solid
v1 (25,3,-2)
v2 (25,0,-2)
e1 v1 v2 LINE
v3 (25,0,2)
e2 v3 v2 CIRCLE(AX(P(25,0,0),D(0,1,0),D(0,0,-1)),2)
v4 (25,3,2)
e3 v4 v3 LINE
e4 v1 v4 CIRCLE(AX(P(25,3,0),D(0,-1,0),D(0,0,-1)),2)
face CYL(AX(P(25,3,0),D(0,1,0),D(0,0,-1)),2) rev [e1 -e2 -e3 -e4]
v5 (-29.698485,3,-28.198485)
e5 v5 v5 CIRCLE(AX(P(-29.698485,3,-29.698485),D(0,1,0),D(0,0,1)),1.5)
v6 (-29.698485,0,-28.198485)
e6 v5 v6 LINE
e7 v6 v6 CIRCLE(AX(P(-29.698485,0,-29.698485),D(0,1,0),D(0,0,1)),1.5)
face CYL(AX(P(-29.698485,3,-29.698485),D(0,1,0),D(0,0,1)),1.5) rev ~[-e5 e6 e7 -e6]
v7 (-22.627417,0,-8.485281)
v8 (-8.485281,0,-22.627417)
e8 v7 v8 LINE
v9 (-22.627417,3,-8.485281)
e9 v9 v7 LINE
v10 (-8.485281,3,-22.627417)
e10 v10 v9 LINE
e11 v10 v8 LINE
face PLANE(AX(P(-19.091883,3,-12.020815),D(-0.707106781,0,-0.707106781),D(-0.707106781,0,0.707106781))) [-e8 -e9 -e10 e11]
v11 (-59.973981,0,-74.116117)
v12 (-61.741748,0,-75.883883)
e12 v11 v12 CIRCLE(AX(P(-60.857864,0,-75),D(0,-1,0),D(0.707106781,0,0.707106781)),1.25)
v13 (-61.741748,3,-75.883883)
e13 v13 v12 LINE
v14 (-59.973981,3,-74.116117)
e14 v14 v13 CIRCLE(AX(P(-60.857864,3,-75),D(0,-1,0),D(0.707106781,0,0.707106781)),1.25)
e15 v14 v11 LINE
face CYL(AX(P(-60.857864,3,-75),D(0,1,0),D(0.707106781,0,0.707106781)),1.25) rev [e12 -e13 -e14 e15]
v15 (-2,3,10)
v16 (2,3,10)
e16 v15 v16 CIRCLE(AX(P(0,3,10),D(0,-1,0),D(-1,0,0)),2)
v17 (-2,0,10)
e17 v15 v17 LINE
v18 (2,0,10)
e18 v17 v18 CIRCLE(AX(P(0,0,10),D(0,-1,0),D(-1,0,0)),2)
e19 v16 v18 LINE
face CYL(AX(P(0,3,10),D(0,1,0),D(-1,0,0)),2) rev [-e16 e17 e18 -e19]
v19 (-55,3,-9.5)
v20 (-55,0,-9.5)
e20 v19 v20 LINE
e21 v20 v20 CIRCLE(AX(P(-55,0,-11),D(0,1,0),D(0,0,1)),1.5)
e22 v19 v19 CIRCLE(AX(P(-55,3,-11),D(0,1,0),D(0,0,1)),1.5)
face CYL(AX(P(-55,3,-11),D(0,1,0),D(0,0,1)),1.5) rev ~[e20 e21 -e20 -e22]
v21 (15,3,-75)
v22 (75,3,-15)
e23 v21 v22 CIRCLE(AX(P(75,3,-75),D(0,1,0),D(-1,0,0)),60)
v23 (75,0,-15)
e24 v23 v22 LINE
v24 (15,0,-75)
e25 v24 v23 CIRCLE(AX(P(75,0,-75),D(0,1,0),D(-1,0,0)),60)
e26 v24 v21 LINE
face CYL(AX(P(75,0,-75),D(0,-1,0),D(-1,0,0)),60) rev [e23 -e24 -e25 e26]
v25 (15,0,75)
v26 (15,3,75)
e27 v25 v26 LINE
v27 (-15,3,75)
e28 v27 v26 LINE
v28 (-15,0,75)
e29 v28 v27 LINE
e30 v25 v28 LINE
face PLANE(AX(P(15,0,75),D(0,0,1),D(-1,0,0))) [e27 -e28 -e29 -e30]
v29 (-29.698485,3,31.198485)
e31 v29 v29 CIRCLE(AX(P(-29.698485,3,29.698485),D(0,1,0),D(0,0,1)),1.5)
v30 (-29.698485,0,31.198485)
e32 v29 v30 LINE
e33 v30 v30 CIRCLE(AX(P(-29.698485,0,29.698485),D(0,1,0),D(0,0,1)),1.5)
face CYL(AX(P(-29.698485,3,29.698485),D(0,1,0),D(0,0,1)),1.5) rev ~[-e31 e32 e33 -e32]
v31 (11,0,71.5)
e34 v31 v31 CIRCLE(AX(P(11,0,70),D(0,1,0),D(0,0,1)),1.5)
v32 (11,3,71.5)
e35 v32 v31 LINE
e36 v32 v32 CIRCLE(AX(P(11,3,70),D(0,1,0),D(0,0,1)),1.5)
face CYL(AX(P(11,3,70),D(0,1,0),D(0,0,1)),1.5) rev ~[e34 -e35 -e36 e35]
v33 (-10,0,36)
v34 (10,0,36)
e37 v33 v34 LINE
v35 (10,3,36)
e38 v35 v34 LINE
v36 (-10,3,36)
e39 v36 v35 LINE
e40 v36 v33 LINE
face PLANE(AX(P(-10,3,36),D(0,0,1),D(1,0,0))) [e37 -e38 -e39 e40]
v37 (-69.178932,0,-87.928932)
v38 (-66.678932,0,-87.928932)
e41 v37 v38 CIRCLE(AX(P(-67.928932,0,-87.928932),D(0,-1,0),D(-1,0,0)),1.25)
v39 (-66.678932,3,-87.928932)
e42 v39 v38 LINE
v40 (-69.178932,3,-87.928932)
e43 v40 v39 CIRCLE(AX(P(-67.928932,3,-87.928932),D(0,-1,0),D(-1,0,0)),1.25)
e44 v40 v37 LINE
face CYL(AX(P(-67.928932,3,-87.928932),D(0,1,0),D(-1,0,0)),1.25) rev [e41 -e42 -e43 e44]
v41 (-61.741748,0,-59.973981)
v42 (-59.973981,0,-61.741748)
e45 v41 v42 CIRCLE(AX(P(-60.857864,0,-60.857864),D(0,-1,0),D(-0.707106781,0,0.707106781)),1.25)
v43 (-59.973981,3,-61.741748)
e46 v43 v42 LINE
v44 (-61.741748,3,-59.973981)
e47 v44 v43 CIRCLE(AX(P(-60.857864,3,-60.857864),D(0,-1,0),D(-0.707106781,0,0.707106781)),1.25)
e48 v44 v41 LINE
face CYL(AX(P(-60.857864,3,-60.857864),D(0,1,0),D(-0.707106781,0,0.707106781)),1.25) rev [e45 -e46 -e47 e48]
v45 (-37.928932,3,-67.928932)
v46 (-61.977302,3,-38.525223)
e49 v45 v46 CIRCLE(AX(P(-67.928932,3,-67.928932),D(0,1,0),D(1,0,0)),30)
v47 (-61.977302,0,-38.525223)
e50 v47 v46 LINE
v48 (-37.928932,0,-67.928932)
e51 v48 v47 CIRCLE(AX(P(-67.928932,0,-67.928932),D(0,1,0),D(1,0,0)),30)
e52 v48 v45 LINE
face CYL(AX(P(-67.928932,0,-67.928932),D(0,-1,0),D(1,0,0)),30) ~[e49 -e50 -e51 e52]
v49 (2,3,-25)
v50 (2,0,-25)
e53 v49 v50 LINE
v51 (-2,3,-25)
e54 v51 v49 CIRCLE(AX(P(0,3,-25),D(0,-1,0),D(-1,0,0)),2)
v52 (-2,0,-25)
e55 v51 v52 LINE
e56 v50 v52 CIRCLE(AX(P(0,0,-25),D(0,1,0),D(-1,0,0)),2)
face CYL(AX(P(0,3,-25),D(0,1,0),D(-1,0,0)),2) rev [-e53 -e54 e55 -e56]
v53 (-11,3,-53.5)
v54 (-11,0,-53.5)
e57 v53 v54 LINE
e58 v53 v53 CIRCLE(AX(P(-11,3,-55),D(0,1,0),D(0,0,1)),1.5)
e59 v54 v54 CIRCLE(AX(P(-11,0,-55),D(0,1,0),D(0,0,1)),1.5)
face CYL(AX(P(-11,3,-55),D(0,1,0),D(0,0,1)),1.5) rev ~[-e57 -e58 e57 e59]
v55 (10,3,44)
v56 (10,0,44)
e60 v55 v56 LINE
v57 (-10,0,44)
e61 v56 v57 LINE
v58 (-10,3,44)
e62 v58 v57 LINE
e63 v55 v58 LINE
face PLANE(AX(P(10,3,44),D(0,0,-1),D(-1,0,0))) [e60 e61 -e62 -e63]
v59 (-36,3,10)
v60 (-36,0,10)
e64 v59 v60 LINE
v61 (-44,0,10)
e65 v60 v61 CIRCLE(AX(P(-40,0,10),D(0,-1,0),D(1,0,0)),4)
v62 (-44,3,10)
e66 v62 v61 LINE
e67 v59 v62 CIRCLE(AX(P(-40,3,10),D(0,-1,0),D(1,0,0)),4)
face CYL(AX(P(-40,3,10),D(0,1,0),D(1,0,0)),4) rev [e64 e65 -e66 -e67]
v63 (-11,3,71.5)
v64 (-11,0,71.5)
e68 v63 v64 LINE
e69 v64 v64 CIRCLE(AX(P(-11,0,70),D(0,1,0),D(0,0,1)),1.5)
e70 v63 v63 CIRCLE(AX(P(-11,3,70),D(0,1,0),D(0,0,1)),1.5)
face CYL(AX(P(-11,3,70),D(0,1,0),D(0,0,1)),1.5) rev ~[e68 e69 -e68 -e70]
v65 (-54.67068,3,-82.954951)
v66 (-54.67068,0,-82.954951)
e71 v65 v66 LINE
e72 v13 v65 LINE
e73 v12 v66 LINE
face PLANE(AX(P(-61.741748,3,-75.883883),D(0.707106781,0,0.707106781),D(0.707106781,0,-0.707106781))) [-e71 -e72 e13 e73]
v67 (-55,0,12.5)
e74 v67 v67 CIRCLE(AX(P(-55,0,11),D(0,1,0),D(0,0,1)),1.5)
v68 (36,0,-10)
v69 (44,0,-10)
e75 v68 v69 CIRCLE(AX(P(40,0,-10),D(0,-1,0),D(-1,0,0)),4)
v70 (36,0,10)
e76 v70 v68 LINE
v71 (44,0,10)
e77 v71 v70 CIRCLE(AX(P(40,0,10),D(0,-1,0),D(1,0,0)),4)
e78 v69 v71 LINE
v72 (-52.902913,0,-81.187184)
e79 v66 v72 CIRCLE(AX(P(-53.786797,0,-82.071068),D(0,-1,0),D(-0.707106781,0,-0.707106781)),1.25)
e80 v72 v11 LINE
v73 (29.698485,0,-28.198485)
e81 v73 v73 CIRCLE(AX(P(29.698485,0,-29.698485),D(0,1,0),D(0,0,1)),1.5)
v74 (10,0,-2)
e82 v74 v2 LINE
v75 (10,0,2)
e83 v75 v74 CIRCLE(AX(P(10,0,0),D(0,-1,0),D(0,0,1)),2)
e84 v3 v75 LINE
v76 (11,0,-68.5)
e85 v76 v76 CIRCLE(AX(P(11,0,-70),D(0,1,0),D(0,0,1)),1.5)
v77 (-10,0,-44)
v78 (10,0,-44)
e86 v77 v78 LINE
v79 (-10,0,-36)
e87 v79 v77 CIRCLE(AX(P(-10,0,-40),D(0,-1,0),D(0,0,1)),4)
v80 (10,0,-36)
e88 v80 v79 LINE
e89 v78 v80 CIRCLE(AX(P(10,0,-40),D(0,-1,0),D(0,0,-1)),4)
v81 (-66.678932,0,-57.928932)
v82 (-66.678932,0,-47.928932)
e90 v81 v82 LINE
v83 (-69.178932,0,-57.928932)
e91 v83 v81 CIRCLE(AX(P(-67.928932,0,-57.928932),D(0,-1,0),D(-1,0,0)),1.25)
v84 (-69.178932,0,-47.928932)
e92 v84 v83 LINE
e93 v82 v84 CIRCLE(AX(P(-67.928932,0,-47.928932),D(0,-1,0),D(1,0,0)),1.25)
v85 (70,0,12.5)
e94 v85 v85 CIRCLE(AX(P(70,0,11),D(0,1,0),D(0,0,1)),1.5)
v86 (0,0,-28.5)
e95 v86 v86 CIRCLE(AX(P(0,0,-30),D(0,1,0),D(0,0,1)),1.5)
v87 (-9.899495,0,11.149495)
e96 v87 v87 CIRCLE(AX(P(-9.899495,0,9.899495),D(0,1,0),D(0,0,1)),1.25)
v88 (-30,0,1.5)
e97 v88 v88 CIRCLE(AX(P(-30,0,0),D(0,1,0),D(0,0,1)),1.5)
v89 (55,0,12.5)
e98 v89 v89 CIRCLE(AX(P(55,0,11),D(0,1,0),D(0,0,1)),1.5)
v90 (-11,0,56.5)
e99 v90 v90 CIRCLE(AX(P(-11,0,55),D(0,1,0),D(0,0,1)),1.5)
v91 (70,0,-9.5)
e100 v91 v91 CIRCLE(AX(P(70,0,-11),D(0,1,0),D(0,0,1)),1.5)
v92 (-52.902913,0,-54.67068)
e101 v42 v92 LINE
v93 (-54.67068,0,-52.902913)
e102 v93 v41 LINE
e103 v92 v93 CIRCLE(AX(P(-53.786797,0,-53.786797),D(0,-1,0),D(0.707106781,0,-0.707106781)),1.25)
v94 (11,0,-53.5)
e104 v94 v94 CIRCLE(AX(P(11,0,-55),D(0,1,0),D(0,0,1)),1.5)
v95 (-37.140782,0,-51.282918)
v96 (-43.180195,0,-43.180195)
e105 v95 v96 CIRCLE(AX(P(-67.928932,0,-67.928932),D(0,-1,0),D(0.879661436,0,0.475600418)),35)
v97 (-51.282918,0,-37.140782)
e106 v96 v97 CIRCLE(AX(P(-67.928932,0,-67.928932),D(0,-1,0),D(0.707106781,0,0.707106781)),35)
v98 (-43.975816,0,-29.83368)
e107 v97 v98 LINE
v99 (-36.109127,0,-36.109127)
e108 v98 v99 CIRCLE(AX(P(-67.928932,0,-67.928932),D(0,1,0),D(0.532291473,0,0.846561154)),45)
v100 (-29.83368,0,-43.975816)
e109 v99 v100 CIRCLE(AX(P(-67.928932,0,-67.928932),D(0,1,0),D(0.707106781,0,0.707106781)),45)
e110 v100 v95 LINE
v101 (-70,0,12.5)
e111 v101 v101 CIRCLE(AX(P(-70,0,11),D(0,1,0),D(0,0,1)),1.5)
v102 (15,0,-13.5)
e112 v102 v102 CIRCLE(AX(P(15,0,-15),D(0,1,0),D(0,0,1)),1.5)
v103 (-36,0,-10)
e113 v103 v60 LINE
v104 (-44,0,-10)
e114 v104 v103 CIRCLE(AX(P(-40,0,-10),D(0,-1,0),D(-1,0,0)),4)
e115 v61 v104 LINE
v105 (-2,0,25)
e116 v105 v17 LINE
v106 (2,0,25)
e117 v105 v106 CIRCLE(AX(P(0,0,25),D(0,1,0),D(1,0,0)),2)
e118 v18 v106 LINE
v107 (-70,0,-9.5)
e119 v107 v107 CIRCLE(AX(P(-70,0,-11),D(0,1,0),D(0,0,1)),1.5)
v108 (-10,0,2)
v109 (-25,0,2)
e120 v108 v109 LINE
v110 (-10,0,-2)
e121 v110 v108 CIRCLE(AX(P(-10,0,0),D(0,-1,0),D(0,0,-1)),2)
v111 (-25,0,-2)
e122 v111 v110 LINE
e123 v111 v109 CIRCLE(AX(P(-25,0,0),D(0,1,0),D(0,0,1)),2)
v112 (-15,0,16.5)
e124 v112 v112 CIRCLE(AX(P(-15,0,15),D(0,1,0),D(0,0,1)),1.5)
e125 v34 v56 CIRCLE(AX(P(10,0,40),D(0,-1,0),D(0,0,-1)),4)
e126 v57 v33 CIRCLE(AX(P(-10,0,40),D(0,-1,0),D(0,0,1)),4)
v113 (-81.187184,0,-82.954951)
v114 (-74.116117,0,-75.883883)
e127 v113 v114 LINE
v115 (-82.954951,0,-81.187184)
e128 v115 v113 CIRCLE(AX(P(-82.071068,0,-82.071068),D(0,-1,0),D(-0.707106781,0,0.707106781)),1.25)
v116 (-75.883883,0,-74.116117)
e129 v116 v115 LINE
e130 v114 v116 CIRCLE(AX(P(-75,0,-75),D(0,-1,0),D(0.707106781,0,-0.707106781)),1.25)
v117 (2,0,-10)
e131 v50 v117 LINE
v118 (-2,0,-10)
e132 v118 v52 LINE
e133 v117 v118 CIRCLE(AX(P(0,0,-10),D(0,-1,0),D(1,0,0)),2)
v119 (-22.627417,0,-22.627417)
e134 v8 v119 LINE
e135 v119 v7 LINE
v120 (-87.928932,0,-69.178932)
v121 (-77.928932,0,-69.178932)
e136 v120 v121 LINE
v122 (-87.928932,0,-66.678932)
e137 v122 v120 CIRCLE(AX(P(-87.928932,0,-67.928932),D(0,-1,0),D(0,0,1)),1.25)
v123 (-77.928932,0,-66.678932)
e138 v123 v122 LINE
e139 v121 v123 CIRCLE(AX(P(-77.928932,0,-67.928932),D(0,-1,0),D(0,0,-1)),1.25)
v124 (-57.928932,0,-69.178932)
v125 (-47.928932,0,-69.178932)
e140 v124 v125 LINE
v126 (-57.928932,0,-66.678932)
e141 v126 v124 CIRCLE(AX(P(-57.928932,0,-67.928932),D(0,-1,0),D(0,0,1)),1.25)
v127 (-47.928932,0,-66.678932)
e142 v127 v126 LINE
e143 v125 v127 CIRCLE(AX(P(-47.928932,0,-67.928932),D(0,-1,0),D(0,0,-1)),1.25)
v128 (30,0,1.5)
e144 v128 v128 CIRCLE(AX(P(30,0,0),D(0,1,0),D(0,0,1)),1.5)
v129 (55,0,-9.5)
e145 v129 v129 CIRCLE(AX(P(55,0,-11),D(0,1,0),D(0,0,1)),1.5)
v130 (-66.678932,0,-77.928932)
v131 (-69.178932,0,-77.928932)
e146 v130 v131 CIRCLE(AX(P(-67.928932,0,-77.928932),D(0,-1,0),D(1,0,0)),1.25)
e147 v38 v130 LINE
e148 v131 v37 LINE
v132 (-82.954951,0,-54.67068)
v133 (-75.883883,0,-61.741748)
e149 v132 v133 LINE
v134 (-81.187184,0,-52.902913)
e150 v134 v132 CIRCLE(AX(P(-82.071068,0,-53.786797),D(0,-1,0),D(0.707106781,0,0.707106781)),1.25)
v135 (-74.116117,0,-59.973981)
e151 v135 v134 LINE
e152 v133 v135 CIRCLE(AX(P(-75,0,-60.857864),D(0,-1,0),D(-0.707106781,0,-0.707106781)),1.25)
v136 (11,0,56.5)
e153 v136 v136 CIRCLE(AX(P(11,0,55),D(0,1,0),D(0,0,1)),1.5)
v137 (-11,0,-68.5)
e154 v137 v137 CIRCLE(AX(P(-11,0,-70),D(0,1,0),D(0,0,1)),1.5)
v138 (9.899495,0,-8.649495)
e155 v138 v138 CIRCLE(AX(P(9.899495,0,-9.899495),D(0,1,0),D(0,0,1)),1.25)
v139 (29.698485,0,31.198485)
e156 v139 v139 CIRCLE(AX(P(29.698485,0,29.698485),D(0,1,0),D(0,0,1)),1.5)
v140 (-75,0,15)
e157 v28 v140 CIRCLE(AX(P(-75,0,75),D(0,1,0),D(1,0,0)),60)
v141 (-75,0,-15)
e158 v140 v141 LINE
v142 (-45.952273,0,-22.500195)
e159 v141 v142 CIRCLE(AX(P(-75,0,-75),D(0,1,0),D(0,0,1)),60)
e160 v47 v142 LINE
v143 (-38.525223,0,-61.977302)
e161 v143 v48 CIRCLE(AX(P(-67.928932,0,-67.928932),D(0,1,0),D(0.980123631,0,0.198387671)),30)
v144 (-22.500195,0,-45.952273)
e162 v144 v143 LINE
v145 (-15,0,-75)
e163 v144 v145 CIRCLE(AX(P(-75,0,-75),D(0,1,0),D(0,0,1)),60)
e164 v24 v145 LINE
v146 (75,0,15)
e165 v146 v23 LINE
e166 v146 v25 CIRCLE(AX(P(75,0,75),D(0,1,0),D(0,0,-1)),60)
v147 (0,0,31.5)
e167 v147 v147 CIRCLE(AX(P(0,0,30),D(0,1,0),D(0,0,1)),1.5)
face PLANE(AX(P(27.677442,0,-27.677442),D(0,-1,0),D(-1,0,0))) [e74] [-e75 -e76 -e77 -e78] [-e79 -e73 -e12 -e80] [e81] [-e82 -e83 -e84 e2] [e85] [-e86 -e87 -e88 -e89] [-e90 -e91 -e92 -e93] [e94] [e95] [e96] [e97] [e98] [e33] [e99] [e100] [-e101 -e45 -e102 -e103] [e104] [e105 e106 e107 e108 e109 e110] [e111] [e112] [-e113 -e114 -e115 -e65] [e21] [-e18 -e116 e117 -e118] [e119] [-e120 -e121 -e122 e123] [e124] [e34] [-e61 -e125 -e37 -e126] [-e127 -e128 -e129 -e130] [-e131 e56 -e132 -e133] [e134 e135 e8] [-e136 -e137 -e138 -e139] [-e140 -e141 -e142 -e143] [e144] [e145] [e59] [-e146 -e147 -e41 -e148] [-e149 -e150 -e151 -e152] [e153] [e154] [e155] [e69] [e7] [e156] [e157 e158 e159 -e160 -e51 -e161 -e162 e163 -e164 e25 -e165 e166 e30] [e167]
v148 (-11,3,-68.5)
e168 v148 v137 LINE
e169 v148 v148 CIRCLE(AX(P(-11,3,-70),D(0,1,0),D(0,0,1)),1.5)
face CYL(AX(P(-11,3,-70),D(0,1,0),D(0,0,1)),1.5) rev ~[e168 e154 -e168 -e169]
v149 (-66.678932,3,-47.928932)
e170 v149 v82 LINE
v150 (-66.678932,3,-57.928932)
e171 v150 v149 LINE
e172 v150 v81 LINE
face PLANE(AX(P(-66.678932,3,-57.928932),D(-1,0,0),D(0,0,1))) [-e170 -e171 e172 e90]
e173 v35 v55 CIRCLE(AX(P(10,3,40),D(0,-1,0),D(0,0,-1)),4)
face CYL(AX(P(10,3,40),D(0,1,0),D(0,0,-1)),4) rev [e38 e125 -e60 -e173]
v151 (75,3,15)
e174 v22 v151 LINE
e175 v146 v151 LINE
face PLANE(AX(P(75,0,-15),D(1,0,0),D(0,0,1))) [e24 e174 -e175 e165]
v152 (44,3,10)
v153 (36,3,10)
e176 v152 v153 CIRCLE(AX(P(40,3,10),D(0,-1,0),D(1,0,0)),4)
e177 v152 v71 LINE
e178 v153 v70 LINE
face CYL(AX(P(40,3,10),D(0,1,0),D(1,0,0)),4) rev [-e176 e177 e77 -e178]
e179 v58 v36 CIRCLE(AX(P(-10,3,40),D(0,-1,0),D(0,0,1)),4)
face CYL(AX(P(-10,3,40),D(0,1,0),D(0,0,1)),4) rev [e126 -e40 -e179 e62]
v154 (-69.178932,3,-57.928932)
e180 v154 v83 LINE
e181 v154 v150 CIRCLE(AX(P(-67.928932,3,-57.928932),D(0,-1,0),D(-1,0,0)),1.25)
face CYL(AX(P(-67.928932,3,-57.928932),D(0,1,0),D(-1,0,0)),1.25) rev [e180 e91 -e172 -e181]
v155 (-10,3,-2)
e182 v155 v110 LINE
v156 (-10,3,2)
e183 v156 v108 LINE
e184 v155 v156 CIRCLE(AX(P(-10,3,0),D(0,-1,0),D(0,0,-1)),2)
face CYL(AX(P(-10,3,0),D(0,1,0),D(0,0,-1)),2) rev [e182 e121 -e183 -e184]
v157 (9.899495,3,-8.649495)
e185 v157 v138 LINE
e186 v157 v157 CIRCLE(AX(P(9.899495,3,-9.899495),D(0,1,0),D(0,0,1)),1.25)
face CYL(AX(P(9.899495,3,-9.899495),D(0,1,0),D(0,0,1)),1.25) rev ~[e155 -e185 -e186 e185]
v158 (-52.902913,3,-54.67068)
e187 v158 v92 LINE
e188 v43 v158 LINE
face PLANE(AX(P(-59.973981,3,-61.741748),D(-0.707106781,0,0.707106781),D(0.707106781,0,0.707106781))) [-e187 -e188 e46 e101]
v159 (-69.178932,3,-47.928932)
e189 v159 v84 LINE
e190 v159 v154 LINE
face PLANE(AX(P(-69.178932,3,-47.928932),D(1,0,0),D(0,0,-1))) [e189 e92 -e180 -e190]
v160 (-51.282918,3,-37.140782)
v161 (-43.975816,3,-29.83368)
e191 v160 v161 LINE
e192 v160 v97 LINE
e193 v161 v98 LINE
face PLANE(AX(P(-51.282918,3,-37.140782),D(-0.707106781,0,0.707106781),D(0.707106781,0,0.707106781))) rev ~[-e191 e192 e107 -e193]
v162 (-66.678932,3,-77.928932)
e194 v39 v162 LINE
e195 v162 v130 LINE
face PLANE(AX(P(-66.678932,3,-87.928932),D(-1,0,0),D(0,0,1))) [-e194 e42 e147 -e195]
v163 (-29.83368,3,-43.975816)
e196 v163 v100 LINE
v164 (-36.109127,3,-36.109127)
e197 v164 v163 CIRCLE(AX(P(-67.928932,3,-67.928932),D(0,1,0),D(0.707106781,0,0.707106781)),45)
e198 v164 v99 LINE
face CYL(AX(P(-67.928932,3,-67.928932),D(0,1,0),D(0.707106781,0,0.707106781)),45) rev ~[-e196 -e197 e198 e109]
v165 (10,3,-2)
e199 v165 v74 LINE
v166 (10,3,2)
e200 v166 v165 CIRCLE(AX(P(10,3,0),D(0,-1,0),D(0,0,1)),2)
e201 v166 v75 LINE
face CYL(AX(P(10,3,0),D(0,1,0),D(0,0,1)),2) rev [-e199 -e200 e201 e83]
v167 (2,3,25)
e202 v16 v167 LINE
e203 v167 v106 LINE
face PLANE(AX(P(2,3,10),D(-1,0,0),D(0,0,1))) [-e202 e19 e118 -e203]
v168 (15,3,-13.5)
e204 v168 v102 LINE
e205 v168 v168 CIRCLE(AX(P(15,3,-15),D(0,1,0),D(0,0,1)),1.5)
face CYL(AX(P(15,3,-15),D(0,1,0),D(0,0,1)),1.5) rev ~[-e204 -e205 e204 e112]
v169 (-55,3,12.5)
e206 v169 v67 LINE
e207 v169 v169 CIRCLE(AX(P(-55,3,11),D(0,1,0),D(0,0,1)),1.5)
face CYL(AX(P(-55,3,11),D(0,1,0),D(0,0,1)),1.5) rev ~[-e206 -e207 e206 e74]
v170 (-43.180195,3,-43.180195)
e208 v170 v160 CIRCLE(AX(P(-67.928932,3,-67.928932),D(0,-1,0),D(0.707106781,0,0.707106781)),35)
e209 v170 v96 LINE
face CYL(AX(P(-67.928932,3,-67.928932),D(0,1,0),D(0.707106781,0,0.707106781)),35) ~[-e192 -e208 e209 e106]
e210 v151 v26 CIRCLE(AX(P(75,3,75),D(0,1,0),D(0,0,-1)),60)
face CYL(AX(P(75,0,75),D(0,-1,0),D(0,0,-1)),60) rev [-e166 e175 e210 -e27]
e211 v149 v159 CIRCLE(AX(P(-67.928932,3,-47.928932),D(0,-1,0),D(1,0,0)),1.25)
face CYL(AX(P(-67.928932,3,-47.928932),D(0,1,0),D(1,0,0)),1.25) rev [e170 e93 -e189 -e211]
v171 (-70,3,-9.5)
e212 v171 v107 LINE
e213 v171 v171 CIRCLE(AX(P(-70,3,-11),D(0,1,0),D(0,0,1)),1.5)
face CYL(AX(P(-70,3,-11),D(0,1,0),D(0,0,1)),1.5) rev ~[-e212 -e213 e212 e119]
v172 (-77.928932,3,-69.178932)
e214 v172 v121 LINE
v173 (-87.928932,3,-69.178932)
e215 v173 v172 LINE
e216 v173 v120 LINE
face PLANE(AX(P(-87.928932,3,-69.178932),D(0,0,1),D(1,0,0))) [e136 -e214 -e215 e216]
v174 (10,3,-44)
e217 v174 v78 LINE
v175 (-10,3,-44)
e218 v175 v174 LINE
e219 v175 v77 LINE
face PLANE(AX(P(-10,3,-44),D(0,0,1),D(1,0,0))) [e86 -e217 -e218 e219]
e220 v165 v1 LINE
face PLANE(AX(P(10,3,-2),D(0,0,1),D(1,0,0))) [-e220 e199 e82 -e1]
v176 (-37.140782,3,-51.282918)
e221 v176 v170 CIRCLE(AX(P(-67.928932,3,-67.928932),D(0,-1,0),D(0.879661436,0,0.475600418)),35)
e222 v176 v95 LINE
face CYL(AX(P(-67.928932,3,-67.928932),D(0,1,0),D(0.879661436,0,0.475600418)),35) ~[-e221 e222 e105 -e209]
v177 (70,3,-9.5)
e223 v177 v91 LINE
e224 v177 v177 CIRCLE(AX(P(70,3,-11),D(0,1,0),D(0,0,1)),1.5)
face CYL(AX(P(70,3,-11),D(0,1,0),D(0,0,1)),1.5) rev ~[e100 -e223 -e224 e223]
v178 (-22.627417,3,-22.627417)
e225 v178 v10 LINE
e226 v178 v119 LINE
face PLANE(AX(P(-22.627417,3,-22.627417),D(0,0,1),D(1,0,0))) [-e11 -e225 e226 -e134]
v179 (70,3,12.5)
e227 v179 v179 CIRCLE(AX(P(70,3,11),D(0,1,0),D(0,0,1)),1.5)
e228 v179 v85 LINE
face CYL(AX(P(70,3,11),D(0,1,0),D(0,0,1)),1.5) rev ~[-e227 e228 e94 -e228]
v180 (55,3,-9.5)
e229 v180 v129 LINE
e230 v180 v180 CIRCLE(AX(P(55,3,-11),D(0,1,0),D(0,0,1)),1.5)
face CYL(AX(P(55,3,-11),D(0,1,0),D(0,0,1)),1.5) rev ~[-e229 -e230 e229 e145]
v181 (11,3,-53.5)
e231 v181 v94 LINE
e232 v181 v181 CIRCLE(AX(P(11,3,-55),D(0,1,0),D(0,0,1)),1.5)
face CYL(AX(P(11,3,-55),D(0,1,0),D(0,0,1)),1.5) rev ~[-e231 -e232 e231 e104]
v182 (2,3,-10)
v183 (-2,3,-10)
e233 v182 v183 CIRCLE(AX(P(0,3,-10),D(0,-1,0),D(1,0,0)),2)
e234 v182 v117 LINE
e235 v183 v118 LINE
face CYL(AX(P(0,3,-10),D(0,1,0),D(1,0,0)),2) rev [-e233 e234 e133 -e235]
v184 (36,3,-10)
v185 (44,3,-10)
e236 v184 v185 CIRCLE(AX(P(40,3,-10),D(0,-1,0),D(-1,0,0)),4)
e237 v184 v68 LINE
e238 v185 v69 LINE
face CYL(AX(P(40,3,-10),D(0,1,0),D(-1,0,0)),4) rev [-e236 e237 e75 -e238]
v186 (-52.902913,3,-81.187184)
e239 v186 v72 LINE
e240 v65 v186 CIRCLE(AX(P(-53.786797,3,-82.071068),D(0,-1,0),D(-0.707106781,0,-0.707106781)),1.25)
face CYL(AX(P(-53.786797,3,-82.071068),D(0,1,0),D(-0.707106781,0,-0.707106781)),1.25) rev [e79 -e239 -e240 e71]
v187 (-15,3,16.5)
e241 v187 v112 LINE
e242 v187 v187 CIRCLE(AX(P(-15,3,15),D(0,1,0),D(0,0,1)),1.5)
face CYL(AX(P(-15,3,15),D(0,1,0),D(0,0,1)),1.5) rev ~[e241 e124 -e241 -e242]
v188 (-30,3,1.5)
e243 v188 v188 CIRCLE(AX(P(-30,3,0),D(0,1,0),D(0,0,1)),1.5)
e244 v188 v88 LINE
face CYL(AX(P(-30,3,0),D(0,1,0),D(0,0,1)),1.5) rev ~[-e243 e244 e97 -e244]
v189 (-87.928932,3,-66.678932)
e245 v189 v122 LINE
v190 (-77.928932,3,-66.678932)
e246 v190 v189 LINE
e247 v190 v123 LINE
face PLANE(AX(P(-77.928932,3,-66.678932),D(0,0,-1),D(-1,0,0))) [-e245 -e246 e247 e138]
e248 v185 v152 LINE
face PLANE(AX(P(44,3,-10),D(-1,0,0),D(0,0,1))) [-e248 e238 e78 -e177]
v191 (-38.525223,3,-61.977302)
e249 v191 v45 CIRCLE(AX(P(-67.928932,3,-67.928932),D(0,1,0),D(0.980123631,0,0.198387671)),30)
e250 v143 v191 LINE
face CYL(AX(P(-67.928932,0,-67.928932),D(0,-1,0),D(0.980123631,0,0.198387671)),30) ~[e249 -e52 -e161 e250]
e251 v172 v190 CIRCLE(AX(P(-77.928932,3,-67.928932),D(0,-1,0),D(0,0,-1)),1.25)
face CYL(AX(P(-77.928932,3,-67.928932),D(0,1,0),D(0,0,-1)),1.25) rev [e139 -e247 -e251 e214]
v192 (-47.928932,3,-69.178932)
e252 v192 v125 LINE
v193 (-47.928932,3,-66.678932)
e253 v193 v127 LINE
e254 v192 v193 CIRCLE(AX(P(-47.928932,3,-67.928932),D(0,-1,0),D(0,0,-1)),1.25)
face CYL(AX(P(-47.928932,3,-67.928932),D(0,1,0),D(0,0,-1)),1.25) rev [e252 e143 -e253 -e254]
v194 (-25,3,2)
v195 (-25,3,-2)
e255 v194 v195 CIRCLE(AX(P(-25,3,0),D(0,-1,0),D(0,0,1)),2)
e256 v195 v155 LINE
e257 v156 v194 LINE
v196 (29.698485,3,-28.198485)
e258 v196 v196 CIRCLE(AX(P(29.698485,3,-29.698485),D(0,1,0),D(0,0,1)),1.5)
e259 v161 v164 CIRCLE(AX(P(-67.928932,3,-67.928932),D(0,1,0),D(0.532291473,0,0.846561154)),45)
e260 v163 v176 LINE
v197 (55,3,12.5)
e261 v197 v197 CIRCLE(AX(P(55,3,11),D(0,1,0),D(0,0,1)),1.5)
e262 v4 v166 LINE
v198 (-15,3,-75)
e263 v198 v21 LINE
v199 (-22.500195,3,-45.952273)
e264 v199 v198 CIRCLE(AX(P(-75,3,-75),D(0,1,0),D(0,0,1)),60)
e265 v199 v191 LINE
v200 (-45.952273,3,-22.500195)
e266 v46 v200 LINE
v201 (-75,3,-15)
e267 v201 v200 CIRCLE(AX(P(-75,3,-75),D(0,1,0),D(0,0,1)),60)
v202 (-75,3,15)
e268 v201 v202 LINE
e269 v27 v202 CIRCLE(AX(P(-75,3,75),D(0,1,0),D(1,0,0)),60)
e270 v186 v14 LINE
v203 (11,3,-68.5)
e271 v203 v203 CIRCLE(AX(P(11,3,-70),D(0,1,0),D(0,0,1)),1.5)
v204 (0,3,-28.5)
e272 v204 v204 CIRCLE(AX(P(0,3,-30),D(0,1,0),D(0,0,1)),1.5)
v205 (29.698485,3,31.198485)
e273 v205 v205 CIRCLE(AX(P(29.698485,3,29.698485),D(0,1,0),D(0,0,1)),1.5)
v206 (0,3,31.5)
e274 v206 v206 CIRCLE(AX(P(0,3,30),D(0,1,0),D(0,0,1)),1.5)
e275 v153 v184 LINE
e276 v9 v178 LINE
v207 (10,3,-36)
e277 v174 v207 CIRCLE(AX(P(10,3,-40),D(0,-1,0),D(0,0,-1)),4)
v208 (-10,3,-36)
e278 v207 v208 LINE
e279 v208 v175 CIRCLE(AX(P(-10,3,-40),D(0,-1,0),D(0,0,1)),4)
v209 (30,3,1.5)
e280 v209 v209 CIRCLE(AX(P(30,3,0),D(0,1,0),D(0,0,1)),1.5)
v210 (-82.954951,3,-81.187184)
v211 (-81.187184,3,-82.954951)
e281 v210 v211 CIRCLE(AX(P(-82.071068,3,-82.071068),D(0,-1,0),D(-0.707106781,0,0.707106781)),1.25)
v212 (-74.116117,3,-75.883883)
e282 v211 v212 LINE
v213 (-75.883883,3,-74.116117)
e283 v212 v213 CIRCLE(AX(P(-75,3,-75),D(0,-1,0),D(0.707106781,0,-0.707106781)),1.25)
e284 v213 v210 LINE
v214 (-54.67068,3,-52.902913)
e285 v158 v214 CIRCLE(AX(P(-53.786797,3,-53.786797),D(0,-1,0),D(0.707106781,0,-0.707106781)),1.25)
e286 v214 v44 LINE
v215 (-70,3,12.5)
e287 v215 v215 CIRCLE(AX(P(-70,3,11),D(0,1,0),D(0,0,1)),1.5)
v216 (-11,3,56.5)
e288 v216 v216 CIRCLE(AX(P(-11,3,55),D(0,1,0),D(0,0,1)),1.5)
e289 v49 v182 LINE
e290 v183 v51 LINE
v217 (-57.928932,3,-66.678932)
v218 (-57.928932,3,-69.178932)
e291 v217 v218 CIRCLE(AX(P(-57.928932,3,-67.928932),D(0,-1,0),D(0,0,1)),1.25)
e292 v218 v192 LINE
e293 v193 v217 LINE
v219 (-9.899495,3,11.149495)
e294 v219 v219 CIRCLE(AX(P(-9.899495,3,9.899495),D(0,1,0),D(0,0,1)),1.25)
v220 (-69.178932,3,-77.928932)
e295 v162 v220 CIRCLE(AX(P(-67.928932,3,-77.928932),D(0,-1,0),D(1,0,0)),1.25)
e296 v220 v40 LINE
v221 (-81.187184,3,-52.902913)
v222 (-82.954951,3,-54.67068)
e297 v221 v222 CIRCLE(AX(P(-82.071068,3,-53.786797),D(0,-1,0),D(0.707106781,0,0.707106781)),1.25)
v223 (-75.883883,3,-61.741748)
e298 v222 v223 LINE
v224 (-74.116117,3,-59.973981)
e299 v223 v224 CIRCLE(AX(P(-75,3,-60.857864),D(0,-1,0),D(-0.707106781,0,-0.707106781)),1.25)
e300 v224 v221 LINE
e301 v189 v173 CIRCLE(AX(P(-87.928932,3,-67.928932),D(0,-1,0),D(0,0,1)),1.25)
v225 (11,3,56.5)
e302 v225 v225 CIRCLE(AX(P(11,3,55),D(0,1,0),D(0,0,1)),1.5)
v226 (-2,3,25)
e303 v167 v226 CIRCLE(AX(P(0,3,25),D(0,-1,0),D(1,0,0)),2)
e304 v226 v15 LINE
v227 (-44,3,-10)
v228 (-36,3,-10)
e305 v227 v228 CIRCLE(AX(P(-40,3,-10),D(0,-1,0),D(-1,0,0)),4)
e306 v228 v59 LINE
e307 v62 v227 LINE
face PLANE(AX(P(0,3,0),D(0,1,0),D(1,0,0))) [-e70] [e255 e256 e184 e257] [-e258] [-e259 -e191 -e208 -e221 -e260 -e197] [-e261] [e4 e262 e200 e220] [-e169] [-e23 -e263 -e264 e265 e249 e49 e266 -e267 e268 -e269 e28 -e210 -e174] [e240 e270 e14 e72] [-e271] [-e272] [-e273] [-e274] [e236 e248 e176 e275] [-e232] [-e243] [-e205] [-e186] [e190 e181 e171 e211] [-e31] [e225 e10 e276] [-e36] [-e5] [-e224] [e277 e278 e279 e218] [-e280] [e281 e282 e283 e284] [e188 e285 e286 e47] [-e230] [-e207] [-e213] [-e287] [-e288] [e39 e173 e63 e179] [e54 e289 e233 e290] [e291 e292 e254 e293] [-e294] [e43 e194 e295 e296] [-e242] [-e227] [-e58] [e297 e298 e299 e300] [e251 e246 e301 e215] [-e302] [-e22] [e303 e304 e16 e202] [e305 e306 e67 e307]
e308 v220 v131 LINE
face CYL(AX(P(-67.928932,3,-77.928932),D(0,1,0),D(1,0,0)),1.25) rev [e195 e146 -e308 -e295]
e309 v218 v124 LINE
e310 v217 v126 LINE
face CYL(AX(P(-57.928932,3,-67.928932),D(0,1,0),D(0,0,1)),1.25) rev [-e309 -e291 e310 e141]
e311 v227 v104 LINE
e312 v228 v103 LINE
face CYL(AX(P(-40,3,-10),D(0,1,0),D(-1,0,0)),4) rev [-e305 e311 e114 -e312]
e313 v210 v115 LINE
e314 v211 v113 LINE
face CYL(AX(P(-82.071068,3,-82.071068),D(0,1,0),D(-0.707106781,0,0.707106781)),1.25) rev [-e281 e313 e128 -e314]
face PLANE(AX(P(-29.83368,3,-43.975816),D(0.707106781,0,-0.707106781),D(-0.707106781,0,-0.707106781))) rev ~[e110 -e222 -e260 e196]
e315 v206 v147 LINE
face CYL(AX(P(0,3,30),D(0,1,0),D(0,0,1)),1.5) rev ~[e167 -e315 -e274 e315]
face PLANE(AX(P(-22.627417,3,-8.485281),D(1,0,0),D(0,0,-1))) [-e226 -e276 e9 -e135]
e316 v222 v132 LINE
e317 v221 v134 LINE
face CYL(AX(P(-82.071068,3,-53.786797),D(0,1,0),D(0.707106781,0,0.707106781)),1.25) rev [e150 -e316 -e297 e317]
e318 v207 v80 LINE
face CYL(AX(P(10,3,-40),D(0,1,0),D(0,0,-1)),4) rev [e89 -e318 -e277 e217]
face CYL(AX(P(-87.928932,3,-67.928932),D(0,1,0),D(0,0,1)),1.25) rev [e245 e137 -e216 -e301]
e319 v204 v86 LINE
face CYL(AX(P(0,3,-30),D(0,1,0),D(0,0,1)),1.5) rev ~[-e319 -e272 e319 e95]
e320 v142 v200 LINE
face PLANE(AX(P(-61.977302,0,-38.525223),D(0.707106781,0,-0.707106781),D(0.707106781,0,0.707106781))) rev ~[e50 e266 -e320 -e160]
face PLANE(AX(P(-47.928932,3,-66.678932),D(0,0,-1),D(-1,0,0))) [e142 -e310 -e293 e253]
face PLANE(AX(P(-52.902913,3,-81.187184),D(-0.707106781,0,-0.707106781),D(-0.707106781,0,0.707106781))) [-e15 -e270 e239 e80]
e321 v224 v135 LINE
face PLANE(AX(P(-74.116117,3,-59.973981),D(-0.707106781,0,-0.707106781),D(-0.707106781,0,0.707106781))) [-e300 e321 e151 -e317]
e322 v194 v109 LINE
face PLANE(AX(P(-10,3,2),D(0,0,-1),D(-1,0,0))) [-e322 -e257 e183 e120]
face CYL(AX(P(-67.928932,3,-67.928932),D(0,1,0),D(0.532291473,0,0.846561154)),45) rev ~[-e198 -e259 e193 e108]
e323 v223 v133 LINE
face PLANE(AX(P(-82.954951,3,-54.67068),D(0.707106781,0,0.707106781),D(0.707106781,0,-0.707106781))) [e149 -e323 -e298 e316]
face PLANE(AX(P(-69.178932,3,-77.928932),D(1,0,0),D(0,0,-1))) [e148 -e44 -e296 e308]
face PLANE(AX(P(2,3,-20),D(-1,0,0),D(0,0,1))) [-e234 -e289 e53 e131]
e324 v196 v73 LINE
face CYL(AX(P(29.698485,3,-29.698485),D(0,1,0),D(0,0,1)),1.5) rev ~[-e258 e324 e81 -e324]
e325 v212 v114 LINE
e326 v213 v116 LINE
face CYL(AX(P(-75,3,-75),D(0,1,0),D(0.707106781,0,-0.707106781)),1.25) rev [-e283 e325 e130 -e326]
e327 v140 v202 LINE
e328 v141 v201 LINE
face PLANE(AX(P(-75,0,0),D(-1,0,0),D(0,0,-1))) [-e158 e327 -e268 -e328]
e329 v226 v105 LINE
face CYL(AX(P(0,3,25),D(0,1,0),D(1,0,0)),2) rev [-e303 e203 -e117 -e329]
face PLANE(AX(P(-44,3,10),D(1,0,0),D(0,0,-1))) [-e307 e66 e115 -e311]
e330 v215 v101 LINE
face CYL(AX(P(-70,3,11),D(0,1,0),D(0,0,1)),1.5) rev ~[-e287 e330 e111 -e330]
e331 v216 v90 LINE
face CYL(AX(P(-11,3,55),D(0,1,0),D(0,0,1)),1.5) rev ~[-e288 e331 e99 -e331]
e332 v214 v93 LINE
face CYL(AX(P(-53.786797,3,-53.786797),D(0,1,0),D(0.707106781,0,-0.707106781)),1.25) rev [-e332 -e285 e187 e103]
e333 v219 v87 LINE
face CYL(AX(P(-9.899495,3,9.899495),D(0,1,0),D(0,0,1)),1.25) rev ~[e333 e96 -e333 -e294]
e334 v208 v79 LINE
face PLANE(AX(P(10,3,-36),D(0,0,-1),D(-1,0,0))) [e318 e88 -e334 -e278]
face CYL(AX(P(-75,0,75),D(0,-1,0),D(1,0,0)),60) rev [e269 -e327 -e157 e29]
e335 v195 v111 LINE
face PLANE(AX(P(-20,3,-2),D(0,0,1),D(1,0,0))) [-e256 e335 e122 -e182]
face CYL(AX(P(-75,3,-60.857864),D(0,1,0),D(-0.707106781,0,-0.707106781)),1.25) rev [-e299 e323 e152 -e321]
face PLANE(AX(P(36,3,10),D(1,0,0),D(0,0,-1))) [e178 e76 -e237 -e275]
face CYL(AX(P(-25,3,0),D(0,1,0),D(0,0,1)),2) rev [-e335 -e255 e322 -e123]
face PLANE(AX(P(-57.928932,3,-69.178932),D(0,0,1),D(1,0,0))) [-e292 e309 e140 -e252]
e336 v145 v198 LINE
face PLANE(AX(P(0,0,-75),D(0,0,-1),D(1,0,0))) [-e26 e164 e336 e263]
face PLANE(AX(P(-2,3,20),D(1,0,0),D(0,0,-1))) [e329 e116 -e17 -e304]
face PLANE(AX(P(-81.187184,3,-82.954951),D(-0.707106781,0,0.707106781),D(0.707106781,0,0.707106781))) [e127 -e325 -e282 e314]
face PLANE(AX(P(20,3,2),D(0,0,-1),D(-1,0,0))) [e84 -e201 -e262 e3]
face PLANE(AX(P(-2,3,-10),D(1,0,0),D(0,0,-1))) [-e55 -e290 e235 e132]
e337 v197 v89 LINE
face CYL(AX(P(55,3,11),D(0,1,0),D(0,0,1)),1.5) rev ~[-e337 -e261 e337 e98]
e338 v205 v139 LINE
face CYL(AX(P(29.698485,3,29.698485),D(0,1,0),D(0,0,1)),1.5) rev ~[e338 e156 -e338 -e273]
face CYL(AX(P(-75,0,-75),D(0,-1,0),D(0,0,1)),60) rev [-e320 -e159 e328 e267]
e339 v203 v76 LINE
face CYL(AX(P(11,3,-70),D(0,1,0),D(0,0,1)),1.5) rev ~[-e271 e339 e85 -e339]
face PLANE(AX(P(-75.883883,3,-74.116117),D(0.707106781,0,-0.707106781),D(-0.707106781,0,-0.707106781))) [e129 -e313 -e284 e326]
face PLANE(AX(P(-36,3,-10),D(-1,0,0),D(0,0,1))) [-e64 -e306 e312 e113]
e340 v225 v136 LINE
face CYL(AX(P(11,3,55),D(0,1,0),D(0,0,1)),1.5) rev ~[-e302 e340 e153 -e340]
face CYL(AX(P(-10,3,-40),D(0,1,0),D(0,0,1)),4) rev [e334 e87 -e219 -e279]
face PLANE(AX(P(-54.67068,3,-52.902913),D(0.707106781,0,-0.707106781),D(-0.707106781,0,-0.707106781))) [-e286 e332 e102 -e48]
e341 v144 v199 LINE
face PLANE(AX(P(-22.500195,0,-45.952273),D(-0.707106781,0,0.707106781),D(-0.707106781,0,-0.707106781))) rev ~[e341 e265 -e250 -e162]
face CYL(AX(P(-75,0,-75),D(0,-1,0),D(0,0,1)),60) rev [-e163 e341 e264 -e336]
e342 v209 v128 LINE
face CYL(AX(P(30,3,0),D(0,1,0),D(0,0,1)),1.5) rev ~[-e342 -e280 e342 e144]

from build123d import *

# Parameters (mm, degrees)
SKETCH_1_R               = 1.25
EXTRUDE_1_DEPTH          = 3
SKETCH_2_R               = 1.5
CUT_EXTRUDE_1_DEPTH      = 3
CUT_EXTRUDE_2_DEPTH      = 3
CUT_EXTRUDE_3_DEPTH      = 3
CUT_EXTRUDE_4_DEPTH      = 10
SKETCH_6_R               = 1.5
CUT_EXTRUDE_5_DEPTH      = 10
SKETCH_7_R               = 1.5
CUT_EXTRUDE_8_DEPTH      = 10
SKETCH_8_R               = 1.5
CUT_EXTRUDE_9_DEPTH      = 10
SKETCH_9_R               = 15
CUT_EXTRUDE_10_DEPTH     = 10
SKETCH_11_R              = 1.5
EXTRUDE_3_DEPTH          = 3
CUT_EXTRUDE_12_DEPTH     = 3
EXTRUDE_4_DEPTH          = 3
SKETCH_15_R              = 15
EXTRUDE_5_DEPTH          = 3
CUT_EXTRUDE_13_DEPTH     = 3
EXTRUDE_START            = -3
EXTRUDE_7_DEPTH          = 3
CUT_EXTRUDE_14_DEPTH     = 3
CUT_EXTRUDE_15_DEPTH     = 3
PATTERN_CIRCULAR_1_COUNT = 8
SKETCH_22_R              = 1.25
CUT_EXTRUDE_17_DEPTH     = 3
SKETCH_23_R              = 1.5
CUT_EXTRUDE_18_DEPTH     = 10
SKETCH_24_R              = 1.5
CUT_EXTRUDE_19_DEPTH     = 10
CUT_EXTRUDE_20_DEPTH     = 10
SKETCH_26_R              = 1.5
CUT_EXTRUDE_21_DEPTH     = 66


with BuildPart() as part:
    # 草图1 → 凸台-拉伸1 (new body)
    # profile 1 of 4: a face of its own
    with BuildSketch(Plane(origin=(0, 0, 0), x_dir=(1, 0, 0), z_dir=(0, 1, 0))):
        with BuildLine():
            ThreePointArc((75, -15), (32.573593129, -32.573593129), (15, -75))
            Line((15, -75), (0, -75))
            Line((0, -75), (0, 0))
            Line((0, 0), (75, 0))
            Line((75, 0), (75, -15))
        make_face()
        with Locations(Location((11, -70, 0), (0, 0, 270))):
            Circle(SKETCH_1_R, mode=Mode.SUBTRACT)
        with Locations(Location((70, -11, 0), (0, 0, 270))):
            Circle(SKETCH_1_R, mode=Mode.SUBTRACT)
    # profile 2 of 4: a face of its own
    with BuildSketch(Plane(origin=(0, 0, 0), x_dir=(1, 0, 0), z_dir=(0, 1, 0))):
        with BuildLine():
            ThreePointArc((-15, -75), (-32.573593129, -32.573593129), (-75, -15))
            Line((-75, -15), (-75, 0))
            Line((-75, 0), (0, 0))
            Line((0, 0), (0, -75))
            Line((0, -75), (-15, -75))
        make_face()
        with Locations(Location((-70, -11, 0), (0, 0, 270))):
            Circle(SKETCH_1_R, mode=Mode.SUBTRACT)
        with Locations(Location((-11, -70, 0), (0, 0, 270))):
            Circle(SKETCH_1_R, mode=Mode.SUBTRACT)
    # profile 3 of 4: a face of its own
    with BuildSketch(Plane(origin=(0, 0, 0), x_dir=(1, 0, 0), z_dir=(0, 1, 0))):
        with BuildLine():
            ThreePointArc((-75, 15), (-32.573593129, 32.573593129), (-15, 75))
            Line((-15, 75), (0, 75))
            Line((0, 75), (0, 0))
            Line((0, 0), (-75, 0))
            Line((-75, 0), (-75, 15))
        make_face()
        with Locations(Location((-11, 70, 0), (0, 0, 270))):
            Circle(SKETCH_1_R, mode=Mode.SUBTRACT)
        with Locations(Location((-70, 11, 0), (0, 0, 270))):
            Circle(SKETCH_1_R, mode=Mode.SUBTRACT)
    # profile 4 of 4: a face of its own
    with BuildSketch(Plane(origin=(0, 0, 0), x_dir=(1, 0, 0), z_dir=(0, 1, 0))):
        with BuildLine():
            ThreePointArc((15, 75), (32.573593129, 32.573593129), (75, 15))
            Line((75, 15), (75, 0))
            Line((75, 0), (0, 0))
            Line((0, 0), (0, 75))
            Line((0, 75), (15, 75))
        make_face()
        with Locations(Location((70, 11, 0), (0, 0, 270))):
            Circle(SKETCH_1_R, mode=Mode.SUBTRACT)
        with Locations(Location((11, 70, 0), (0, 0, 270))):
            Circle(SKETCH_1_R, mode=Mode.SUBTRACT)
    extrude(amount=EXTRUDE_1_DEPTH)

    # 草图2 → 切除-拉伸1 (cut)
    with BuildSketch(Plane.XZ):
        with Locations(Location((0.353553391, -31.466251763, 0), (0, 0, 270))):
            Circle(SKETCH_2_R)
        with Locations(Location((31.466251763, -0.353553391, 0), (0, 0, 270))):
            Circle(SKETCH_2_R)
        with Locations(Location((-0.353553391, 31.466251763, 0), (0, 0, 90))):
            Circle(SKETCH_2_R)
        with Locations(Location((-31.466251763, 0.353553391, 0), (0, 0, 90))):
            Circle(SKETCH_2_R)
    extrude(amount=-CUT_EXTRUDE_1_DEPTH, mode=Mode.SUBTRACT)

    # 草图3 → 切除-拉伸2 (cut)
    with BuildSketch(Plane(origin=(0, 3, 0), x_dir=(1, 0, 0), z_dir=(0, 1, 0))):
        Polygon((-15.556349186, 15.556349186), (-12.02081528, 19.091883092), (-22.627416998, 22.627416998), align=None)
        Polygon((-19.091883092, 12.02081528), (-15.556349186, 15.556349186), (-22.627416998, 22.627416998), align=None)
    extrude(amount=-CUT_EXTRUDE_2_DEPTH, mode=Mode.SUBTRACT)

    # 草图4 → 切除-拉伸3 (cut)
    with BuildSketch(Plane(origin=(0, 3, 0), x_dir=(1, 0, 0), z_dir=(0, 1, 0))):
        with BuildLine():
            ThreePointArc((33.944668714, -19.80253309), (34.043922781, -8.582763971), (22.827665534, -8.285032838))
            Line((22.827665534, -8.285032838), (15.556349186, -15.556349186))
            Line((15.556349186, -15.556349186), (8.285032838, -22.827665534))
            ThreePointArc((8.285032838, -22.827665534), (8.582763971, -34.043922781), (19.80253309, -33.944668714))
            Line((19.80253309, -33.944668714), (33.944668714, -19.80253309))
        make_face()
    extrude(amount=-CUT_EXTRUDE_3_DEPTH, mode=Mode.SUBTRACT)

    # 草图5 → 切除-拉伸4 (cut)
    with BuildSketch(Plane(origin=(0, 3, 0), x_dir=(1, 0, 0), z_dir=(0, 1, 0))):
        Polygon((-22.627416998, 8.485281374), (-22.627416998, 22.627416998), (-19.091883092, 12.02081528), align=None)
        Polygon((-12.02081528, 19.091883092), (-22.627416998, 22.627416998), (-8.485281374, 22.627416998), align=None)
    extrude(amount=-CUT_EXTRUDE_4_DEPTH, mode=Mode.SUBTRACT)

    # 草图6 → 切除-拉伸5 (cut)
    with BuildSketch(Plane(origin=(0, 3, 0), x_dir=(1, 0, 0), z_dir=(0, 1, 0))):
        with Locations(Location((-35.355339059, -21.213203436, 0), (0, 0, 270))):
            Circle(SKETCH_6_R)
        with Locations(Location((-21.213203436, -35.355339059, 0), (0, 0, 270))):
            Circle(SKETCH_6_R)
        with Locations(Location((35.355339059, 21.213203436, 0), (0, 0, 270))):
            Circle(SKETCH_6_R)
        with Locations(Location((21.213203436, 35.355339059, 0), (0, 0, 270))):
            Circle(SKETCH_6_R)
    extrude(amount=-CUT_EXTRUDE_5_DEPTH, mode=Mode.SUBTRACT)

    # 草图7 → 切除-拉伸8 (cut)
    with BuildSketch(Plane(origin=(0, 3, 0), x_dir=(1, 0, 0), z_dir=(0, 1, 0))):
        with Locations(Location((-29.69848481, 29.69848481, 0), (0, 0, 270))):
            Circle(SKETCH_7_R)
        with Locations(Location((29.69848481, 29.69848481, 0), (0, 0, 270))):
            Circle(SKETCH_7_R)
        with Locations(Location((29.69848481, -29.69848481, 0), (0, 0, 270))):
            Circle(SKETCH_7_R)
        with Locations(Location((-29.69848481, -29.69848481, 0), (0, 0, 270))):
            Circle(SKETCH_7_R)
    extrude(amount=-CUT_EXTRUDE_8_DEPTH, mode=Mode.SUBTRACT)

    # 草图8 → 切除-拉伸9 (cut)
    with BuildSketch(Plane(origin=(0, 3, 0), x_dir=(1, 0, 0), z_dir=(0, 1, 0))):
        with Locations(Location((-11, 55, 0), (0, 0, 270))):
            Circle(SKETCH_8_R)
        with Locations(Location((11, 55, 0), (0, 0, 270))):
            Circle(SKETCH_8_R)
        with Locations(Location((55, 11, 0), (0, 0, 270))):
            Circle(SKETCH_8_R)
        with Locations(Location((55, -11, 0), (0, 0, 270))):
            Circle(SKETCH_8_R)
        with Locations(Location((11, -55, 0), (0, 0, 270))):
            Circle(SKETCH_8_R)
        with Locations(Location((-11, -55, 0), (0, 0, 270))):
            Circle(SKETCH_8_R)
        with Locations(Location((-55, -11, 0), (0, 0, 270))):
            Circle(SKETCH_8_R)
        with Locations(Location((-55, 11, 0), (0, 0, 270))):
            Circle(SKETCH_8_R)
    extrude(amount=-CUT_EXTRUDE_9_DEPTH, mode=Mode.SUBTRACT)

    # 草图9 → 切除-拉伸10 (cut)
    with BuildSketch(Plane(origin=(0, 3, 0), x_dir=(1, 0, 0), z_dir=(0, 1, 0))):
        with Locations(Location((0, 0, 0), (0, 0, 270))):
            Circle(SKETCH_9_R)
    extrude(amount=-CUT_EXTRUDE_10_DEPTH, mode=Mode.SUBTRACT)

    # 草图11 → 凸台-拉伸3 (add)
    with BuildSketch(Plane(origin=(0, 3, 0), x_dir=(1, 0, 0), z_dir=(0, 1, 0))):
        with Locations((-35.355339059, -21.213203436)):
            Circle(SKETCH_11_R)
        with Locations((35.355339059, 21.213203436)):
            Circle(SKETCH_11_R)
        with Locations((21.213203436, 35.355339059)):
            Circle(SKETCH_11_R)
        with Locations((0.353553391, 31.466251763)):
            Circle(SKETCH_11_R)
        with Locations((31.466251763, 0.353553391)):
            Circle(SKETCH_11_R)
        with Locations((-0.353553391, -31.466251763)):
            Circle(SKETCH_11_R)
        with Locations((-31.466251763, -0.353553391)):
            Circle(SKETCH_11_R)
        with Locations((-21.213203436, -35.355339059)):
            Circle(SKETCH_11_R)
    extrude(amount=-EXTRUDE_3_DEPTH)

    # 草图12 → 切除-拉伸12 (cut)
    with BuildSketch(Plane(origin=(0, 3, 0), x_dir=(1, 0, 0), z_dir=(0, 1, 0))):
        with BuildLine():
            Line((-44, -10), (-44, 10))
            ThreePointArc((-44, 10), (-40, 14), (-36, 10))
            Line((-36, 10), (-36, -10))
            ThreePointArc((-36, -10), (-40, -14), (-44, -10))
        make_face()
        with BuildLine():
            Line((-10, 44), (10, 44))
            ThreePointArc((10, 44), (14, 40), (10, 36))
            Line((10, 36), (-10, 36))
            ThreePointArc((-10, 36), (-14, 40), (-10, 44))
        make_face()
        with BuildLine():
            Line((44, 10), (44, -10))
            ThreePointArc((44, -10), (40, -14), (36, -10))
            Line((36, -10), (36, 10))
            ThreePointArc((36, 10), (40, 14), (44, 10))
        make_face()
        with BuildLine():
            Line((10, -44), (-10, -44))
            ThreePointArc((-10, -44), (-14, -40), (-10, -36))
            Line((-10, -36), (10, -36))
            ThreePointArc((10, -36), (14, -40), (10, -44))
        make_face()
    extrude(amount=-CUT_EXTRUDE_12_DEPTH, mode=Mode.SUBTRACT)

    # 草图14 → 凸台-拉伸4 (add)
    with BuildSketch(Plane(origin=(0, 3, 0), x_dir=(1, 0, 0), z_dir=(0, 1, 0))):
        with BuildLine():
            ThreePointArc((32.185650849, -7.152183109), (27.322232167, -6.195143755), (22.827665534, -8.285032838))
            Line((22.827665534, -8.285032838), (21.61516096, -18.569682002))
            ThreePointArc((21.61516096, -18.569682002), (27.487806659, -22.107425519), (33.944668714, -19.80253309))
            ThreePointArc((33.944668714, -19.80253309), (35.679936943, -17.205520658), (36.289282113, -14.142135624))
            ThreePointArc((36.289282113, -14.142135624), (35.187559777, -10.089382679), (32.185650849, -7.152183109))
        make_face()
        with BuildLine():
            Line((22.827665534, -8.285032838), (22.427168462, -8.685529911))
            ThreePointArc((22.427168462, -8.685529911), (20.306137435, -13.486712231), (21.61516096, -18.569682002))
            Line((21.61516096, -18.569682002), (22.827665534, -8.285032838))
        make_face()
        with BuildLine():
            Line((22.427168462, -8.685529911), (8.285032838, -22.827665534))
            ThreePointArc((8.285032838, -22.827665534), (8.582763971, -34.043922781), (19.80253309, -33.944668714))
            Line((19.80253309, -33.944668714), (21.61516096, -18.569682002))
            ThreePointArc((21.61516096, -18.569682002), (20.306137435, -13.486712231), (22.427168462, -8.685529911))
        make_face()
        with BuildLine():
            Line((21.61516096, -18.569682002), (19.80253309, -33.944668714))
            Line((19.80253309, -33.944668714), (33.944668714, -19.80253309))
            ThreePointArc((33.944668714, -19.80253309), (27.487806659, -22.107425519), (21.61516096, -18.569682002))
        make_face()
    extrude(amount=-EXTRUDE_4_DEPTH)

    # 草图15 → 凸台-拉伸5 (add)
    with BuildSketch(Plane(origin=(0, 3, 0), x_dir=(1, 0, 0), z_dir=(0, 1, 0))):
        Circle(SKETCH_15_R)
    extrude(amount=-EXTRUDE_5_DEPTH)

    # 草图17 → 切除-拉伸13 (cut)
    with BuildSketch(Plane(origin=(0, 3, 0), x_dir=(1, 0, 0), z_dir=(0, 1, 0))):
        with BuildLine():
            Line((-2, -20), (-2, -10))
            ThreePointArc((-2, -10), (0, -8), (2, -10))
            Line((2, -10), (2, -20))
            ThreePointArc((2, -20), (0, -22), (-2, -20))
        make_face()
        with BuildLine():
            Line((-20, 2), (-10, 2))
            ThreePointArc((-10, 2), (-8, 0), (-10, -2))
            Line((-10, -2), (-20, -2))
            ThreePointArc((-20, -2), (-22, 0), (-20, 2))
        make_face()
        with BuildLine():
            Line((2, 20), (2, 10))
            ThreePointArc((2, 10), (0, 8), (-2, 10))
            Line((-2, 10), (-2, 20))
            ThreePointArc((-2, 20), (0, 22), (2, 20))
        make_face()
        with BuildLine():
            Line((20, -2), (10, -2))
            ThreePointArc((10, -2), (8, 0), (10, 2))
            Line((10, 2), (20, 2))
            ThreePointArc((20, 2), (22, 0), (20, -2))
        make_face()
    extrude(amount=-CUT_EXTRUDE_13_DEPTH, mode=Mode.SUBTRACT)

    # 草图18 → 凸台-拉伸7 (add)
    with BuildSketch(Plane(origin=(0, 3, 0), x_dir=(1, 0, 0), z_dir=(0, 1, 0)).offset(EXTRUDE_START)):
        with BuildLine():
            Line((-61.977302058, 38.525223259), (-50.251262658, 50.251262658))
            Line((-50.251262658, 50.251262658), (-38.525223259, 61.977302058))
            ThreePointArc((-38.525223259, 61.977302058), (-38.078377186, 64.938218885), (-37.928932188, 67.928932188))
            ThreePointArc((-37.928932188, 67.928932188), (-91.15121571, 86.921708395), (-61.977302058, 38.525223259))
        make_face()
        with BuildLine():
            ThreePointArc((-61.977302058, 38.525223259), (-53.742560533, 41.49511182), (-46.715728753, 46.715728753))
            Line((-46.715728753, 46.715728753), (-50.251262658, 50.251262658))
            Line((-50.251262658, 50.251262658), (-61.977302058, 38.525223259))
        make_face()
        with BuildLine():
            Line((-50.251262658, 50.251262658), (-46.715728753, 46.715728753))
            ThreePointArc((-46.715728753, 46.715728753), (-41.49511182, 53.742560534), (-38.525223259, 61.977302058))
            Line((-38.525223259, 61.977302058), (-50.251262658, 50.251262658))
        make_face()
        with BuildLine():
            ThreePointArc((-45.952273324, 22.500194525), (-38.909748111, 27.067821679), (-32.573593129, 32.573593129))
            Line((-32.573593129, 32.573593129), (-46.715728753, 46.715728753))
            ThreePointArc((-46.715728753, 46.715728753), (-53.742560533, 41.49511182), (-61.977302058, 38.525223259))
            Line((-61.977302058, 38.525223259), (-45.952273324, 22.500194525))
        make_face()
        with BuildLine():
            Line((-46.715728753, 46.715728753), (-32.573593129, 32.573593129))
            ThreePointArc((-32.573593129, 32.573593129), (-27.067821679, 38.909748111), (-22.500194525, 45.952273324))
            Line((-22.500194525, 45.952273324), (-38.525223259, 61.977302058))
            ThreePointArc((-38.525223259, 61.977302058), (-41.49511182, 53.742560534), (-46.715728753, 46.715728753))
        make_face()
    extrude(amount=EXTRUDE_7_DEPTH)

    # 草图19 → 切除-拉伸14 (cut)
    with BuildSketch(Plane(origin=(0, 3, 0), x_dir=(1, 0, 0), z_dir=(0, 1, 0))):
        with BuildLine():
            ThreePointArc((-37.140781925, 51.282917549), (-39.866501787, 47.012431525), (-43.180194847, 43.180194847))
            Line((-43.180194847, 43.180194847), (-36.109127035, 36.109127035))
            ThreePointArc((-36.109127035, 36.109127035), (-32.750813989, 39.866501787), (-29.833680261, 43.975815885))
            Line((-29.833680261, 43.975815885), (-37.140781925, 51.282917549))
        make_face()
        with BuildLine():
            Line((-36.109127035, 36.109127035), (-43.180194847, 43.180194847))
            ThreePointArc((-43.180194847, 43.180194847), (-47.012431525, 39.866501787), (-51.282917549, 37.140781925))
            Line((-51.282917549, 37.140781925), (-43.975815885, 29.833680261))
            ThreePointArc((-43.975815885, 29.833680261), (-39.866501787, 32.750813989), (-36.109127035, 36.109127035))
        make_face()
    extrude(amount=-CUT_EXTRUDE_14_DEPTH, mode=Mode.SUBTRACT)

    # 草图21 → 切除-拉伸15 (cut)
    with BuildSketch(Plane(origin=(0, 3, 0), x_dir=(1, 0, 0), z_dir=(0, 1, 0))):
        with BuildLine():
            Line((-81.187184335, 82.954951288), (-74.116116524, 75.883883476))
            ThreePointArc((-74.116116524, 75.883883476), (-74.116116524, 74.116116524), (-75.883883476, 74.116116524))
            Line((-75.883883476, 74.116116524), (-82.954951288, 81.187184335))
            ThreePointArc((-82.954951288, 81.187184335), (-82.954951288, 82.954951288), (-81.187184335, 82.954951288))
        make_face()
        with BuildLine():
            Line((-59.9739809, 61.741747853), (-52.902913088, 54.670680041))
            ThreePointArc((-52.902913088, 54.670680041), (-52.902913088, 52.902913088), (-54.670680041, 52.902913088))
            Line((-54.670680041, 52.902913088), (-61.741747853, 59.9739809))
            ThreePointArc((-61.741747853, 59.9739809), (-61.741747853, 61.741747853), (-59.9739809, 61.741747853))
        make_face()
    cut_extrude_15 = extrude(amount=-CUT_EXTRUDE_15_DEPTH, mode=Mode.SUBTRACT)

    # 阵列(圆周)1: 切除-拉伸15 ×8 about axis
    pattern_circular_1_axis = Axis((-67.928932188, 0, -67.928932188), (0, 1, 0))
    for i in range(1, PATTERN_CIRCULAR_1_COUNT):
        add(cut_extrude_15.rotate(pattern_circular_1_axis, i * 360 / PATTERN_CIRCULAR_1_COUNT), mode=Mode.SUBTRACT)

    # 草图22 → 切除-拉伸17 (cut)
    with BuildSketch(Plane(origin=(0, 3, 0), x_dir=(1, 0, 0), z_dir=(0, 1, 0))):
        with Locations(Location((9.899494937, 9.899494937, 0), (0, 0, 270))):
            Circle(SKETCH_22_R)
        with Locations(Location((-9.899494937, -9.899494937, 0), (0, 0, 270))):
            Circle(SKETCH_22_R)
    extrude(amount=-CUT_EXTRUDE_17_DEPTH, mode=Mode.SUBTRACT)

    # 草图23 → 切除-拉伸18 (cut)
    with BuildSketch(Plane(origin=(0, 3, 0), x_dir=(1, 0, 0), z_dir=(0, 1, 0))):
        with Locations(Location((0, 30, 0), (0, 0, 270))):
            Circle(SKETCH_23_R)
        with Locations(Location((30, 0, 0), (0, 0, 270))):
            Circle(SKETCH_23_R)
        with Locations(Location((0, -30, 0), (0, 0, 270))):
            Circle(SKETCH_23_R)
        with Locations(Location((-30, 0, 0), (0, 0, 270))):
            Circle(SKETCH_23_R)
    extrude(amount=-CUT_EXTRUDE_18_DEPTH, mode=Mode.SUBTRACT)

    # 草图24 → 切除-拉伸19 (cut)
    with BuildSketch(Plane(origin=(0, 3, 0), x_dir=(1, 0, 0), z_dir=(0, 1, 0))):
        with Locations(Location((-15, -15, 0), (0, 0, 270))):
            Circle(SKETCH_24_R)
        with Locations(Location((15, 15, 0), (0, 0, 270))):
            Circle(SKETCH_24_R)
    extrude(amount=-CUT_EXTRUDE_19_DEPTH, mode=Mode.SUBTRACT)

    # 草图25 → 切除-拉伸20 (cut)
    with BuildSketch(Plane(origin=(0, 3, 0), x_dir=(1, 0, 0), z_dir=(0, 1, 0))):
        with BuildLine():
            Line((-2, 10), (-2, 25))
            ThreePointArc((-2, 25), (0, 27), (2, 25))
            Line((2, 25), (2, 10))
            ThreePointArc((2, 10), (0, 8), (-2, 10))
        make_face()
        with BuildLine():
            Line((10, 2), (25, 2))
            ThreePointArc((25, 2), (27, 0), (25, -2))
            Line((25, -2), (10, -2))
            ThreePointArc((10, -2), (8, 0), (10, 2))
        make_face()
        with BuildLine():
            Line((2, -10), (2, -25))
            ThreePointArc((2, -25), (0, -27), (-2, -25))
            Line((-2, -25), (-2, -10))
            ThreePointArc((-2, -10), (0, -8), (2, -10))
        make_face()
        with BuildLine():
            Line((-10, -2), (-25, -2))
            ThreePointArc((-25, -2), (-27, 0), (-25, 2))
            Line((-25, 2), (-10, 2))
            ThreePointArc((-10, 2), (-8, 0), (-10, -2))
        make_face()
    extrude(amount=-CUT_EXTRUDE_20_DEPTH, mode=Mode.SUBTRACT)

    # 草图26 → 切除-拉伸21 (cut)
    with BuildSketch(Plane(origin=(0, 3, 0), x_dir=(1, 0, 0), z_dir=(0, 1, 0))):
        with Locations(Location((11, 70, 0), (0, 0, 270))):
            Circle(SKETCH_26_R)
        with Locations(Location((-11, 70, 0), (0, 0, 270))):
            Circle(SKETCH_26_R)
        with Locations(Location((70, 11, 0), (0, 0, 270))):
            Circle(SKETCH_26_R)
        with Locations(Location((70, -11, 0), (0, 0, 270))):
            Circle(SKETCH_26_R)
        with Locations(Location((11, -70, 0), (0, 0, 270))):
            Circle(SKETCH_26_R)
        with Locations(Location((-11, -70, 0), (0, 0, 270))):
            Circle(SKETCH_26_R)
        with Locations(Location((-70, -11, 0), (0, 0, 270))):
            Circle(SKETCH_26_R)
        with Locations(Location((-70, 11, 0), (0, 0, 270))):
            Circle(SKETCH_26_R)
    extrude(amount=-CUT_EXTRUDE_21_DEPTH, mode=Mode.SUBTRACT)


solid = part.part
